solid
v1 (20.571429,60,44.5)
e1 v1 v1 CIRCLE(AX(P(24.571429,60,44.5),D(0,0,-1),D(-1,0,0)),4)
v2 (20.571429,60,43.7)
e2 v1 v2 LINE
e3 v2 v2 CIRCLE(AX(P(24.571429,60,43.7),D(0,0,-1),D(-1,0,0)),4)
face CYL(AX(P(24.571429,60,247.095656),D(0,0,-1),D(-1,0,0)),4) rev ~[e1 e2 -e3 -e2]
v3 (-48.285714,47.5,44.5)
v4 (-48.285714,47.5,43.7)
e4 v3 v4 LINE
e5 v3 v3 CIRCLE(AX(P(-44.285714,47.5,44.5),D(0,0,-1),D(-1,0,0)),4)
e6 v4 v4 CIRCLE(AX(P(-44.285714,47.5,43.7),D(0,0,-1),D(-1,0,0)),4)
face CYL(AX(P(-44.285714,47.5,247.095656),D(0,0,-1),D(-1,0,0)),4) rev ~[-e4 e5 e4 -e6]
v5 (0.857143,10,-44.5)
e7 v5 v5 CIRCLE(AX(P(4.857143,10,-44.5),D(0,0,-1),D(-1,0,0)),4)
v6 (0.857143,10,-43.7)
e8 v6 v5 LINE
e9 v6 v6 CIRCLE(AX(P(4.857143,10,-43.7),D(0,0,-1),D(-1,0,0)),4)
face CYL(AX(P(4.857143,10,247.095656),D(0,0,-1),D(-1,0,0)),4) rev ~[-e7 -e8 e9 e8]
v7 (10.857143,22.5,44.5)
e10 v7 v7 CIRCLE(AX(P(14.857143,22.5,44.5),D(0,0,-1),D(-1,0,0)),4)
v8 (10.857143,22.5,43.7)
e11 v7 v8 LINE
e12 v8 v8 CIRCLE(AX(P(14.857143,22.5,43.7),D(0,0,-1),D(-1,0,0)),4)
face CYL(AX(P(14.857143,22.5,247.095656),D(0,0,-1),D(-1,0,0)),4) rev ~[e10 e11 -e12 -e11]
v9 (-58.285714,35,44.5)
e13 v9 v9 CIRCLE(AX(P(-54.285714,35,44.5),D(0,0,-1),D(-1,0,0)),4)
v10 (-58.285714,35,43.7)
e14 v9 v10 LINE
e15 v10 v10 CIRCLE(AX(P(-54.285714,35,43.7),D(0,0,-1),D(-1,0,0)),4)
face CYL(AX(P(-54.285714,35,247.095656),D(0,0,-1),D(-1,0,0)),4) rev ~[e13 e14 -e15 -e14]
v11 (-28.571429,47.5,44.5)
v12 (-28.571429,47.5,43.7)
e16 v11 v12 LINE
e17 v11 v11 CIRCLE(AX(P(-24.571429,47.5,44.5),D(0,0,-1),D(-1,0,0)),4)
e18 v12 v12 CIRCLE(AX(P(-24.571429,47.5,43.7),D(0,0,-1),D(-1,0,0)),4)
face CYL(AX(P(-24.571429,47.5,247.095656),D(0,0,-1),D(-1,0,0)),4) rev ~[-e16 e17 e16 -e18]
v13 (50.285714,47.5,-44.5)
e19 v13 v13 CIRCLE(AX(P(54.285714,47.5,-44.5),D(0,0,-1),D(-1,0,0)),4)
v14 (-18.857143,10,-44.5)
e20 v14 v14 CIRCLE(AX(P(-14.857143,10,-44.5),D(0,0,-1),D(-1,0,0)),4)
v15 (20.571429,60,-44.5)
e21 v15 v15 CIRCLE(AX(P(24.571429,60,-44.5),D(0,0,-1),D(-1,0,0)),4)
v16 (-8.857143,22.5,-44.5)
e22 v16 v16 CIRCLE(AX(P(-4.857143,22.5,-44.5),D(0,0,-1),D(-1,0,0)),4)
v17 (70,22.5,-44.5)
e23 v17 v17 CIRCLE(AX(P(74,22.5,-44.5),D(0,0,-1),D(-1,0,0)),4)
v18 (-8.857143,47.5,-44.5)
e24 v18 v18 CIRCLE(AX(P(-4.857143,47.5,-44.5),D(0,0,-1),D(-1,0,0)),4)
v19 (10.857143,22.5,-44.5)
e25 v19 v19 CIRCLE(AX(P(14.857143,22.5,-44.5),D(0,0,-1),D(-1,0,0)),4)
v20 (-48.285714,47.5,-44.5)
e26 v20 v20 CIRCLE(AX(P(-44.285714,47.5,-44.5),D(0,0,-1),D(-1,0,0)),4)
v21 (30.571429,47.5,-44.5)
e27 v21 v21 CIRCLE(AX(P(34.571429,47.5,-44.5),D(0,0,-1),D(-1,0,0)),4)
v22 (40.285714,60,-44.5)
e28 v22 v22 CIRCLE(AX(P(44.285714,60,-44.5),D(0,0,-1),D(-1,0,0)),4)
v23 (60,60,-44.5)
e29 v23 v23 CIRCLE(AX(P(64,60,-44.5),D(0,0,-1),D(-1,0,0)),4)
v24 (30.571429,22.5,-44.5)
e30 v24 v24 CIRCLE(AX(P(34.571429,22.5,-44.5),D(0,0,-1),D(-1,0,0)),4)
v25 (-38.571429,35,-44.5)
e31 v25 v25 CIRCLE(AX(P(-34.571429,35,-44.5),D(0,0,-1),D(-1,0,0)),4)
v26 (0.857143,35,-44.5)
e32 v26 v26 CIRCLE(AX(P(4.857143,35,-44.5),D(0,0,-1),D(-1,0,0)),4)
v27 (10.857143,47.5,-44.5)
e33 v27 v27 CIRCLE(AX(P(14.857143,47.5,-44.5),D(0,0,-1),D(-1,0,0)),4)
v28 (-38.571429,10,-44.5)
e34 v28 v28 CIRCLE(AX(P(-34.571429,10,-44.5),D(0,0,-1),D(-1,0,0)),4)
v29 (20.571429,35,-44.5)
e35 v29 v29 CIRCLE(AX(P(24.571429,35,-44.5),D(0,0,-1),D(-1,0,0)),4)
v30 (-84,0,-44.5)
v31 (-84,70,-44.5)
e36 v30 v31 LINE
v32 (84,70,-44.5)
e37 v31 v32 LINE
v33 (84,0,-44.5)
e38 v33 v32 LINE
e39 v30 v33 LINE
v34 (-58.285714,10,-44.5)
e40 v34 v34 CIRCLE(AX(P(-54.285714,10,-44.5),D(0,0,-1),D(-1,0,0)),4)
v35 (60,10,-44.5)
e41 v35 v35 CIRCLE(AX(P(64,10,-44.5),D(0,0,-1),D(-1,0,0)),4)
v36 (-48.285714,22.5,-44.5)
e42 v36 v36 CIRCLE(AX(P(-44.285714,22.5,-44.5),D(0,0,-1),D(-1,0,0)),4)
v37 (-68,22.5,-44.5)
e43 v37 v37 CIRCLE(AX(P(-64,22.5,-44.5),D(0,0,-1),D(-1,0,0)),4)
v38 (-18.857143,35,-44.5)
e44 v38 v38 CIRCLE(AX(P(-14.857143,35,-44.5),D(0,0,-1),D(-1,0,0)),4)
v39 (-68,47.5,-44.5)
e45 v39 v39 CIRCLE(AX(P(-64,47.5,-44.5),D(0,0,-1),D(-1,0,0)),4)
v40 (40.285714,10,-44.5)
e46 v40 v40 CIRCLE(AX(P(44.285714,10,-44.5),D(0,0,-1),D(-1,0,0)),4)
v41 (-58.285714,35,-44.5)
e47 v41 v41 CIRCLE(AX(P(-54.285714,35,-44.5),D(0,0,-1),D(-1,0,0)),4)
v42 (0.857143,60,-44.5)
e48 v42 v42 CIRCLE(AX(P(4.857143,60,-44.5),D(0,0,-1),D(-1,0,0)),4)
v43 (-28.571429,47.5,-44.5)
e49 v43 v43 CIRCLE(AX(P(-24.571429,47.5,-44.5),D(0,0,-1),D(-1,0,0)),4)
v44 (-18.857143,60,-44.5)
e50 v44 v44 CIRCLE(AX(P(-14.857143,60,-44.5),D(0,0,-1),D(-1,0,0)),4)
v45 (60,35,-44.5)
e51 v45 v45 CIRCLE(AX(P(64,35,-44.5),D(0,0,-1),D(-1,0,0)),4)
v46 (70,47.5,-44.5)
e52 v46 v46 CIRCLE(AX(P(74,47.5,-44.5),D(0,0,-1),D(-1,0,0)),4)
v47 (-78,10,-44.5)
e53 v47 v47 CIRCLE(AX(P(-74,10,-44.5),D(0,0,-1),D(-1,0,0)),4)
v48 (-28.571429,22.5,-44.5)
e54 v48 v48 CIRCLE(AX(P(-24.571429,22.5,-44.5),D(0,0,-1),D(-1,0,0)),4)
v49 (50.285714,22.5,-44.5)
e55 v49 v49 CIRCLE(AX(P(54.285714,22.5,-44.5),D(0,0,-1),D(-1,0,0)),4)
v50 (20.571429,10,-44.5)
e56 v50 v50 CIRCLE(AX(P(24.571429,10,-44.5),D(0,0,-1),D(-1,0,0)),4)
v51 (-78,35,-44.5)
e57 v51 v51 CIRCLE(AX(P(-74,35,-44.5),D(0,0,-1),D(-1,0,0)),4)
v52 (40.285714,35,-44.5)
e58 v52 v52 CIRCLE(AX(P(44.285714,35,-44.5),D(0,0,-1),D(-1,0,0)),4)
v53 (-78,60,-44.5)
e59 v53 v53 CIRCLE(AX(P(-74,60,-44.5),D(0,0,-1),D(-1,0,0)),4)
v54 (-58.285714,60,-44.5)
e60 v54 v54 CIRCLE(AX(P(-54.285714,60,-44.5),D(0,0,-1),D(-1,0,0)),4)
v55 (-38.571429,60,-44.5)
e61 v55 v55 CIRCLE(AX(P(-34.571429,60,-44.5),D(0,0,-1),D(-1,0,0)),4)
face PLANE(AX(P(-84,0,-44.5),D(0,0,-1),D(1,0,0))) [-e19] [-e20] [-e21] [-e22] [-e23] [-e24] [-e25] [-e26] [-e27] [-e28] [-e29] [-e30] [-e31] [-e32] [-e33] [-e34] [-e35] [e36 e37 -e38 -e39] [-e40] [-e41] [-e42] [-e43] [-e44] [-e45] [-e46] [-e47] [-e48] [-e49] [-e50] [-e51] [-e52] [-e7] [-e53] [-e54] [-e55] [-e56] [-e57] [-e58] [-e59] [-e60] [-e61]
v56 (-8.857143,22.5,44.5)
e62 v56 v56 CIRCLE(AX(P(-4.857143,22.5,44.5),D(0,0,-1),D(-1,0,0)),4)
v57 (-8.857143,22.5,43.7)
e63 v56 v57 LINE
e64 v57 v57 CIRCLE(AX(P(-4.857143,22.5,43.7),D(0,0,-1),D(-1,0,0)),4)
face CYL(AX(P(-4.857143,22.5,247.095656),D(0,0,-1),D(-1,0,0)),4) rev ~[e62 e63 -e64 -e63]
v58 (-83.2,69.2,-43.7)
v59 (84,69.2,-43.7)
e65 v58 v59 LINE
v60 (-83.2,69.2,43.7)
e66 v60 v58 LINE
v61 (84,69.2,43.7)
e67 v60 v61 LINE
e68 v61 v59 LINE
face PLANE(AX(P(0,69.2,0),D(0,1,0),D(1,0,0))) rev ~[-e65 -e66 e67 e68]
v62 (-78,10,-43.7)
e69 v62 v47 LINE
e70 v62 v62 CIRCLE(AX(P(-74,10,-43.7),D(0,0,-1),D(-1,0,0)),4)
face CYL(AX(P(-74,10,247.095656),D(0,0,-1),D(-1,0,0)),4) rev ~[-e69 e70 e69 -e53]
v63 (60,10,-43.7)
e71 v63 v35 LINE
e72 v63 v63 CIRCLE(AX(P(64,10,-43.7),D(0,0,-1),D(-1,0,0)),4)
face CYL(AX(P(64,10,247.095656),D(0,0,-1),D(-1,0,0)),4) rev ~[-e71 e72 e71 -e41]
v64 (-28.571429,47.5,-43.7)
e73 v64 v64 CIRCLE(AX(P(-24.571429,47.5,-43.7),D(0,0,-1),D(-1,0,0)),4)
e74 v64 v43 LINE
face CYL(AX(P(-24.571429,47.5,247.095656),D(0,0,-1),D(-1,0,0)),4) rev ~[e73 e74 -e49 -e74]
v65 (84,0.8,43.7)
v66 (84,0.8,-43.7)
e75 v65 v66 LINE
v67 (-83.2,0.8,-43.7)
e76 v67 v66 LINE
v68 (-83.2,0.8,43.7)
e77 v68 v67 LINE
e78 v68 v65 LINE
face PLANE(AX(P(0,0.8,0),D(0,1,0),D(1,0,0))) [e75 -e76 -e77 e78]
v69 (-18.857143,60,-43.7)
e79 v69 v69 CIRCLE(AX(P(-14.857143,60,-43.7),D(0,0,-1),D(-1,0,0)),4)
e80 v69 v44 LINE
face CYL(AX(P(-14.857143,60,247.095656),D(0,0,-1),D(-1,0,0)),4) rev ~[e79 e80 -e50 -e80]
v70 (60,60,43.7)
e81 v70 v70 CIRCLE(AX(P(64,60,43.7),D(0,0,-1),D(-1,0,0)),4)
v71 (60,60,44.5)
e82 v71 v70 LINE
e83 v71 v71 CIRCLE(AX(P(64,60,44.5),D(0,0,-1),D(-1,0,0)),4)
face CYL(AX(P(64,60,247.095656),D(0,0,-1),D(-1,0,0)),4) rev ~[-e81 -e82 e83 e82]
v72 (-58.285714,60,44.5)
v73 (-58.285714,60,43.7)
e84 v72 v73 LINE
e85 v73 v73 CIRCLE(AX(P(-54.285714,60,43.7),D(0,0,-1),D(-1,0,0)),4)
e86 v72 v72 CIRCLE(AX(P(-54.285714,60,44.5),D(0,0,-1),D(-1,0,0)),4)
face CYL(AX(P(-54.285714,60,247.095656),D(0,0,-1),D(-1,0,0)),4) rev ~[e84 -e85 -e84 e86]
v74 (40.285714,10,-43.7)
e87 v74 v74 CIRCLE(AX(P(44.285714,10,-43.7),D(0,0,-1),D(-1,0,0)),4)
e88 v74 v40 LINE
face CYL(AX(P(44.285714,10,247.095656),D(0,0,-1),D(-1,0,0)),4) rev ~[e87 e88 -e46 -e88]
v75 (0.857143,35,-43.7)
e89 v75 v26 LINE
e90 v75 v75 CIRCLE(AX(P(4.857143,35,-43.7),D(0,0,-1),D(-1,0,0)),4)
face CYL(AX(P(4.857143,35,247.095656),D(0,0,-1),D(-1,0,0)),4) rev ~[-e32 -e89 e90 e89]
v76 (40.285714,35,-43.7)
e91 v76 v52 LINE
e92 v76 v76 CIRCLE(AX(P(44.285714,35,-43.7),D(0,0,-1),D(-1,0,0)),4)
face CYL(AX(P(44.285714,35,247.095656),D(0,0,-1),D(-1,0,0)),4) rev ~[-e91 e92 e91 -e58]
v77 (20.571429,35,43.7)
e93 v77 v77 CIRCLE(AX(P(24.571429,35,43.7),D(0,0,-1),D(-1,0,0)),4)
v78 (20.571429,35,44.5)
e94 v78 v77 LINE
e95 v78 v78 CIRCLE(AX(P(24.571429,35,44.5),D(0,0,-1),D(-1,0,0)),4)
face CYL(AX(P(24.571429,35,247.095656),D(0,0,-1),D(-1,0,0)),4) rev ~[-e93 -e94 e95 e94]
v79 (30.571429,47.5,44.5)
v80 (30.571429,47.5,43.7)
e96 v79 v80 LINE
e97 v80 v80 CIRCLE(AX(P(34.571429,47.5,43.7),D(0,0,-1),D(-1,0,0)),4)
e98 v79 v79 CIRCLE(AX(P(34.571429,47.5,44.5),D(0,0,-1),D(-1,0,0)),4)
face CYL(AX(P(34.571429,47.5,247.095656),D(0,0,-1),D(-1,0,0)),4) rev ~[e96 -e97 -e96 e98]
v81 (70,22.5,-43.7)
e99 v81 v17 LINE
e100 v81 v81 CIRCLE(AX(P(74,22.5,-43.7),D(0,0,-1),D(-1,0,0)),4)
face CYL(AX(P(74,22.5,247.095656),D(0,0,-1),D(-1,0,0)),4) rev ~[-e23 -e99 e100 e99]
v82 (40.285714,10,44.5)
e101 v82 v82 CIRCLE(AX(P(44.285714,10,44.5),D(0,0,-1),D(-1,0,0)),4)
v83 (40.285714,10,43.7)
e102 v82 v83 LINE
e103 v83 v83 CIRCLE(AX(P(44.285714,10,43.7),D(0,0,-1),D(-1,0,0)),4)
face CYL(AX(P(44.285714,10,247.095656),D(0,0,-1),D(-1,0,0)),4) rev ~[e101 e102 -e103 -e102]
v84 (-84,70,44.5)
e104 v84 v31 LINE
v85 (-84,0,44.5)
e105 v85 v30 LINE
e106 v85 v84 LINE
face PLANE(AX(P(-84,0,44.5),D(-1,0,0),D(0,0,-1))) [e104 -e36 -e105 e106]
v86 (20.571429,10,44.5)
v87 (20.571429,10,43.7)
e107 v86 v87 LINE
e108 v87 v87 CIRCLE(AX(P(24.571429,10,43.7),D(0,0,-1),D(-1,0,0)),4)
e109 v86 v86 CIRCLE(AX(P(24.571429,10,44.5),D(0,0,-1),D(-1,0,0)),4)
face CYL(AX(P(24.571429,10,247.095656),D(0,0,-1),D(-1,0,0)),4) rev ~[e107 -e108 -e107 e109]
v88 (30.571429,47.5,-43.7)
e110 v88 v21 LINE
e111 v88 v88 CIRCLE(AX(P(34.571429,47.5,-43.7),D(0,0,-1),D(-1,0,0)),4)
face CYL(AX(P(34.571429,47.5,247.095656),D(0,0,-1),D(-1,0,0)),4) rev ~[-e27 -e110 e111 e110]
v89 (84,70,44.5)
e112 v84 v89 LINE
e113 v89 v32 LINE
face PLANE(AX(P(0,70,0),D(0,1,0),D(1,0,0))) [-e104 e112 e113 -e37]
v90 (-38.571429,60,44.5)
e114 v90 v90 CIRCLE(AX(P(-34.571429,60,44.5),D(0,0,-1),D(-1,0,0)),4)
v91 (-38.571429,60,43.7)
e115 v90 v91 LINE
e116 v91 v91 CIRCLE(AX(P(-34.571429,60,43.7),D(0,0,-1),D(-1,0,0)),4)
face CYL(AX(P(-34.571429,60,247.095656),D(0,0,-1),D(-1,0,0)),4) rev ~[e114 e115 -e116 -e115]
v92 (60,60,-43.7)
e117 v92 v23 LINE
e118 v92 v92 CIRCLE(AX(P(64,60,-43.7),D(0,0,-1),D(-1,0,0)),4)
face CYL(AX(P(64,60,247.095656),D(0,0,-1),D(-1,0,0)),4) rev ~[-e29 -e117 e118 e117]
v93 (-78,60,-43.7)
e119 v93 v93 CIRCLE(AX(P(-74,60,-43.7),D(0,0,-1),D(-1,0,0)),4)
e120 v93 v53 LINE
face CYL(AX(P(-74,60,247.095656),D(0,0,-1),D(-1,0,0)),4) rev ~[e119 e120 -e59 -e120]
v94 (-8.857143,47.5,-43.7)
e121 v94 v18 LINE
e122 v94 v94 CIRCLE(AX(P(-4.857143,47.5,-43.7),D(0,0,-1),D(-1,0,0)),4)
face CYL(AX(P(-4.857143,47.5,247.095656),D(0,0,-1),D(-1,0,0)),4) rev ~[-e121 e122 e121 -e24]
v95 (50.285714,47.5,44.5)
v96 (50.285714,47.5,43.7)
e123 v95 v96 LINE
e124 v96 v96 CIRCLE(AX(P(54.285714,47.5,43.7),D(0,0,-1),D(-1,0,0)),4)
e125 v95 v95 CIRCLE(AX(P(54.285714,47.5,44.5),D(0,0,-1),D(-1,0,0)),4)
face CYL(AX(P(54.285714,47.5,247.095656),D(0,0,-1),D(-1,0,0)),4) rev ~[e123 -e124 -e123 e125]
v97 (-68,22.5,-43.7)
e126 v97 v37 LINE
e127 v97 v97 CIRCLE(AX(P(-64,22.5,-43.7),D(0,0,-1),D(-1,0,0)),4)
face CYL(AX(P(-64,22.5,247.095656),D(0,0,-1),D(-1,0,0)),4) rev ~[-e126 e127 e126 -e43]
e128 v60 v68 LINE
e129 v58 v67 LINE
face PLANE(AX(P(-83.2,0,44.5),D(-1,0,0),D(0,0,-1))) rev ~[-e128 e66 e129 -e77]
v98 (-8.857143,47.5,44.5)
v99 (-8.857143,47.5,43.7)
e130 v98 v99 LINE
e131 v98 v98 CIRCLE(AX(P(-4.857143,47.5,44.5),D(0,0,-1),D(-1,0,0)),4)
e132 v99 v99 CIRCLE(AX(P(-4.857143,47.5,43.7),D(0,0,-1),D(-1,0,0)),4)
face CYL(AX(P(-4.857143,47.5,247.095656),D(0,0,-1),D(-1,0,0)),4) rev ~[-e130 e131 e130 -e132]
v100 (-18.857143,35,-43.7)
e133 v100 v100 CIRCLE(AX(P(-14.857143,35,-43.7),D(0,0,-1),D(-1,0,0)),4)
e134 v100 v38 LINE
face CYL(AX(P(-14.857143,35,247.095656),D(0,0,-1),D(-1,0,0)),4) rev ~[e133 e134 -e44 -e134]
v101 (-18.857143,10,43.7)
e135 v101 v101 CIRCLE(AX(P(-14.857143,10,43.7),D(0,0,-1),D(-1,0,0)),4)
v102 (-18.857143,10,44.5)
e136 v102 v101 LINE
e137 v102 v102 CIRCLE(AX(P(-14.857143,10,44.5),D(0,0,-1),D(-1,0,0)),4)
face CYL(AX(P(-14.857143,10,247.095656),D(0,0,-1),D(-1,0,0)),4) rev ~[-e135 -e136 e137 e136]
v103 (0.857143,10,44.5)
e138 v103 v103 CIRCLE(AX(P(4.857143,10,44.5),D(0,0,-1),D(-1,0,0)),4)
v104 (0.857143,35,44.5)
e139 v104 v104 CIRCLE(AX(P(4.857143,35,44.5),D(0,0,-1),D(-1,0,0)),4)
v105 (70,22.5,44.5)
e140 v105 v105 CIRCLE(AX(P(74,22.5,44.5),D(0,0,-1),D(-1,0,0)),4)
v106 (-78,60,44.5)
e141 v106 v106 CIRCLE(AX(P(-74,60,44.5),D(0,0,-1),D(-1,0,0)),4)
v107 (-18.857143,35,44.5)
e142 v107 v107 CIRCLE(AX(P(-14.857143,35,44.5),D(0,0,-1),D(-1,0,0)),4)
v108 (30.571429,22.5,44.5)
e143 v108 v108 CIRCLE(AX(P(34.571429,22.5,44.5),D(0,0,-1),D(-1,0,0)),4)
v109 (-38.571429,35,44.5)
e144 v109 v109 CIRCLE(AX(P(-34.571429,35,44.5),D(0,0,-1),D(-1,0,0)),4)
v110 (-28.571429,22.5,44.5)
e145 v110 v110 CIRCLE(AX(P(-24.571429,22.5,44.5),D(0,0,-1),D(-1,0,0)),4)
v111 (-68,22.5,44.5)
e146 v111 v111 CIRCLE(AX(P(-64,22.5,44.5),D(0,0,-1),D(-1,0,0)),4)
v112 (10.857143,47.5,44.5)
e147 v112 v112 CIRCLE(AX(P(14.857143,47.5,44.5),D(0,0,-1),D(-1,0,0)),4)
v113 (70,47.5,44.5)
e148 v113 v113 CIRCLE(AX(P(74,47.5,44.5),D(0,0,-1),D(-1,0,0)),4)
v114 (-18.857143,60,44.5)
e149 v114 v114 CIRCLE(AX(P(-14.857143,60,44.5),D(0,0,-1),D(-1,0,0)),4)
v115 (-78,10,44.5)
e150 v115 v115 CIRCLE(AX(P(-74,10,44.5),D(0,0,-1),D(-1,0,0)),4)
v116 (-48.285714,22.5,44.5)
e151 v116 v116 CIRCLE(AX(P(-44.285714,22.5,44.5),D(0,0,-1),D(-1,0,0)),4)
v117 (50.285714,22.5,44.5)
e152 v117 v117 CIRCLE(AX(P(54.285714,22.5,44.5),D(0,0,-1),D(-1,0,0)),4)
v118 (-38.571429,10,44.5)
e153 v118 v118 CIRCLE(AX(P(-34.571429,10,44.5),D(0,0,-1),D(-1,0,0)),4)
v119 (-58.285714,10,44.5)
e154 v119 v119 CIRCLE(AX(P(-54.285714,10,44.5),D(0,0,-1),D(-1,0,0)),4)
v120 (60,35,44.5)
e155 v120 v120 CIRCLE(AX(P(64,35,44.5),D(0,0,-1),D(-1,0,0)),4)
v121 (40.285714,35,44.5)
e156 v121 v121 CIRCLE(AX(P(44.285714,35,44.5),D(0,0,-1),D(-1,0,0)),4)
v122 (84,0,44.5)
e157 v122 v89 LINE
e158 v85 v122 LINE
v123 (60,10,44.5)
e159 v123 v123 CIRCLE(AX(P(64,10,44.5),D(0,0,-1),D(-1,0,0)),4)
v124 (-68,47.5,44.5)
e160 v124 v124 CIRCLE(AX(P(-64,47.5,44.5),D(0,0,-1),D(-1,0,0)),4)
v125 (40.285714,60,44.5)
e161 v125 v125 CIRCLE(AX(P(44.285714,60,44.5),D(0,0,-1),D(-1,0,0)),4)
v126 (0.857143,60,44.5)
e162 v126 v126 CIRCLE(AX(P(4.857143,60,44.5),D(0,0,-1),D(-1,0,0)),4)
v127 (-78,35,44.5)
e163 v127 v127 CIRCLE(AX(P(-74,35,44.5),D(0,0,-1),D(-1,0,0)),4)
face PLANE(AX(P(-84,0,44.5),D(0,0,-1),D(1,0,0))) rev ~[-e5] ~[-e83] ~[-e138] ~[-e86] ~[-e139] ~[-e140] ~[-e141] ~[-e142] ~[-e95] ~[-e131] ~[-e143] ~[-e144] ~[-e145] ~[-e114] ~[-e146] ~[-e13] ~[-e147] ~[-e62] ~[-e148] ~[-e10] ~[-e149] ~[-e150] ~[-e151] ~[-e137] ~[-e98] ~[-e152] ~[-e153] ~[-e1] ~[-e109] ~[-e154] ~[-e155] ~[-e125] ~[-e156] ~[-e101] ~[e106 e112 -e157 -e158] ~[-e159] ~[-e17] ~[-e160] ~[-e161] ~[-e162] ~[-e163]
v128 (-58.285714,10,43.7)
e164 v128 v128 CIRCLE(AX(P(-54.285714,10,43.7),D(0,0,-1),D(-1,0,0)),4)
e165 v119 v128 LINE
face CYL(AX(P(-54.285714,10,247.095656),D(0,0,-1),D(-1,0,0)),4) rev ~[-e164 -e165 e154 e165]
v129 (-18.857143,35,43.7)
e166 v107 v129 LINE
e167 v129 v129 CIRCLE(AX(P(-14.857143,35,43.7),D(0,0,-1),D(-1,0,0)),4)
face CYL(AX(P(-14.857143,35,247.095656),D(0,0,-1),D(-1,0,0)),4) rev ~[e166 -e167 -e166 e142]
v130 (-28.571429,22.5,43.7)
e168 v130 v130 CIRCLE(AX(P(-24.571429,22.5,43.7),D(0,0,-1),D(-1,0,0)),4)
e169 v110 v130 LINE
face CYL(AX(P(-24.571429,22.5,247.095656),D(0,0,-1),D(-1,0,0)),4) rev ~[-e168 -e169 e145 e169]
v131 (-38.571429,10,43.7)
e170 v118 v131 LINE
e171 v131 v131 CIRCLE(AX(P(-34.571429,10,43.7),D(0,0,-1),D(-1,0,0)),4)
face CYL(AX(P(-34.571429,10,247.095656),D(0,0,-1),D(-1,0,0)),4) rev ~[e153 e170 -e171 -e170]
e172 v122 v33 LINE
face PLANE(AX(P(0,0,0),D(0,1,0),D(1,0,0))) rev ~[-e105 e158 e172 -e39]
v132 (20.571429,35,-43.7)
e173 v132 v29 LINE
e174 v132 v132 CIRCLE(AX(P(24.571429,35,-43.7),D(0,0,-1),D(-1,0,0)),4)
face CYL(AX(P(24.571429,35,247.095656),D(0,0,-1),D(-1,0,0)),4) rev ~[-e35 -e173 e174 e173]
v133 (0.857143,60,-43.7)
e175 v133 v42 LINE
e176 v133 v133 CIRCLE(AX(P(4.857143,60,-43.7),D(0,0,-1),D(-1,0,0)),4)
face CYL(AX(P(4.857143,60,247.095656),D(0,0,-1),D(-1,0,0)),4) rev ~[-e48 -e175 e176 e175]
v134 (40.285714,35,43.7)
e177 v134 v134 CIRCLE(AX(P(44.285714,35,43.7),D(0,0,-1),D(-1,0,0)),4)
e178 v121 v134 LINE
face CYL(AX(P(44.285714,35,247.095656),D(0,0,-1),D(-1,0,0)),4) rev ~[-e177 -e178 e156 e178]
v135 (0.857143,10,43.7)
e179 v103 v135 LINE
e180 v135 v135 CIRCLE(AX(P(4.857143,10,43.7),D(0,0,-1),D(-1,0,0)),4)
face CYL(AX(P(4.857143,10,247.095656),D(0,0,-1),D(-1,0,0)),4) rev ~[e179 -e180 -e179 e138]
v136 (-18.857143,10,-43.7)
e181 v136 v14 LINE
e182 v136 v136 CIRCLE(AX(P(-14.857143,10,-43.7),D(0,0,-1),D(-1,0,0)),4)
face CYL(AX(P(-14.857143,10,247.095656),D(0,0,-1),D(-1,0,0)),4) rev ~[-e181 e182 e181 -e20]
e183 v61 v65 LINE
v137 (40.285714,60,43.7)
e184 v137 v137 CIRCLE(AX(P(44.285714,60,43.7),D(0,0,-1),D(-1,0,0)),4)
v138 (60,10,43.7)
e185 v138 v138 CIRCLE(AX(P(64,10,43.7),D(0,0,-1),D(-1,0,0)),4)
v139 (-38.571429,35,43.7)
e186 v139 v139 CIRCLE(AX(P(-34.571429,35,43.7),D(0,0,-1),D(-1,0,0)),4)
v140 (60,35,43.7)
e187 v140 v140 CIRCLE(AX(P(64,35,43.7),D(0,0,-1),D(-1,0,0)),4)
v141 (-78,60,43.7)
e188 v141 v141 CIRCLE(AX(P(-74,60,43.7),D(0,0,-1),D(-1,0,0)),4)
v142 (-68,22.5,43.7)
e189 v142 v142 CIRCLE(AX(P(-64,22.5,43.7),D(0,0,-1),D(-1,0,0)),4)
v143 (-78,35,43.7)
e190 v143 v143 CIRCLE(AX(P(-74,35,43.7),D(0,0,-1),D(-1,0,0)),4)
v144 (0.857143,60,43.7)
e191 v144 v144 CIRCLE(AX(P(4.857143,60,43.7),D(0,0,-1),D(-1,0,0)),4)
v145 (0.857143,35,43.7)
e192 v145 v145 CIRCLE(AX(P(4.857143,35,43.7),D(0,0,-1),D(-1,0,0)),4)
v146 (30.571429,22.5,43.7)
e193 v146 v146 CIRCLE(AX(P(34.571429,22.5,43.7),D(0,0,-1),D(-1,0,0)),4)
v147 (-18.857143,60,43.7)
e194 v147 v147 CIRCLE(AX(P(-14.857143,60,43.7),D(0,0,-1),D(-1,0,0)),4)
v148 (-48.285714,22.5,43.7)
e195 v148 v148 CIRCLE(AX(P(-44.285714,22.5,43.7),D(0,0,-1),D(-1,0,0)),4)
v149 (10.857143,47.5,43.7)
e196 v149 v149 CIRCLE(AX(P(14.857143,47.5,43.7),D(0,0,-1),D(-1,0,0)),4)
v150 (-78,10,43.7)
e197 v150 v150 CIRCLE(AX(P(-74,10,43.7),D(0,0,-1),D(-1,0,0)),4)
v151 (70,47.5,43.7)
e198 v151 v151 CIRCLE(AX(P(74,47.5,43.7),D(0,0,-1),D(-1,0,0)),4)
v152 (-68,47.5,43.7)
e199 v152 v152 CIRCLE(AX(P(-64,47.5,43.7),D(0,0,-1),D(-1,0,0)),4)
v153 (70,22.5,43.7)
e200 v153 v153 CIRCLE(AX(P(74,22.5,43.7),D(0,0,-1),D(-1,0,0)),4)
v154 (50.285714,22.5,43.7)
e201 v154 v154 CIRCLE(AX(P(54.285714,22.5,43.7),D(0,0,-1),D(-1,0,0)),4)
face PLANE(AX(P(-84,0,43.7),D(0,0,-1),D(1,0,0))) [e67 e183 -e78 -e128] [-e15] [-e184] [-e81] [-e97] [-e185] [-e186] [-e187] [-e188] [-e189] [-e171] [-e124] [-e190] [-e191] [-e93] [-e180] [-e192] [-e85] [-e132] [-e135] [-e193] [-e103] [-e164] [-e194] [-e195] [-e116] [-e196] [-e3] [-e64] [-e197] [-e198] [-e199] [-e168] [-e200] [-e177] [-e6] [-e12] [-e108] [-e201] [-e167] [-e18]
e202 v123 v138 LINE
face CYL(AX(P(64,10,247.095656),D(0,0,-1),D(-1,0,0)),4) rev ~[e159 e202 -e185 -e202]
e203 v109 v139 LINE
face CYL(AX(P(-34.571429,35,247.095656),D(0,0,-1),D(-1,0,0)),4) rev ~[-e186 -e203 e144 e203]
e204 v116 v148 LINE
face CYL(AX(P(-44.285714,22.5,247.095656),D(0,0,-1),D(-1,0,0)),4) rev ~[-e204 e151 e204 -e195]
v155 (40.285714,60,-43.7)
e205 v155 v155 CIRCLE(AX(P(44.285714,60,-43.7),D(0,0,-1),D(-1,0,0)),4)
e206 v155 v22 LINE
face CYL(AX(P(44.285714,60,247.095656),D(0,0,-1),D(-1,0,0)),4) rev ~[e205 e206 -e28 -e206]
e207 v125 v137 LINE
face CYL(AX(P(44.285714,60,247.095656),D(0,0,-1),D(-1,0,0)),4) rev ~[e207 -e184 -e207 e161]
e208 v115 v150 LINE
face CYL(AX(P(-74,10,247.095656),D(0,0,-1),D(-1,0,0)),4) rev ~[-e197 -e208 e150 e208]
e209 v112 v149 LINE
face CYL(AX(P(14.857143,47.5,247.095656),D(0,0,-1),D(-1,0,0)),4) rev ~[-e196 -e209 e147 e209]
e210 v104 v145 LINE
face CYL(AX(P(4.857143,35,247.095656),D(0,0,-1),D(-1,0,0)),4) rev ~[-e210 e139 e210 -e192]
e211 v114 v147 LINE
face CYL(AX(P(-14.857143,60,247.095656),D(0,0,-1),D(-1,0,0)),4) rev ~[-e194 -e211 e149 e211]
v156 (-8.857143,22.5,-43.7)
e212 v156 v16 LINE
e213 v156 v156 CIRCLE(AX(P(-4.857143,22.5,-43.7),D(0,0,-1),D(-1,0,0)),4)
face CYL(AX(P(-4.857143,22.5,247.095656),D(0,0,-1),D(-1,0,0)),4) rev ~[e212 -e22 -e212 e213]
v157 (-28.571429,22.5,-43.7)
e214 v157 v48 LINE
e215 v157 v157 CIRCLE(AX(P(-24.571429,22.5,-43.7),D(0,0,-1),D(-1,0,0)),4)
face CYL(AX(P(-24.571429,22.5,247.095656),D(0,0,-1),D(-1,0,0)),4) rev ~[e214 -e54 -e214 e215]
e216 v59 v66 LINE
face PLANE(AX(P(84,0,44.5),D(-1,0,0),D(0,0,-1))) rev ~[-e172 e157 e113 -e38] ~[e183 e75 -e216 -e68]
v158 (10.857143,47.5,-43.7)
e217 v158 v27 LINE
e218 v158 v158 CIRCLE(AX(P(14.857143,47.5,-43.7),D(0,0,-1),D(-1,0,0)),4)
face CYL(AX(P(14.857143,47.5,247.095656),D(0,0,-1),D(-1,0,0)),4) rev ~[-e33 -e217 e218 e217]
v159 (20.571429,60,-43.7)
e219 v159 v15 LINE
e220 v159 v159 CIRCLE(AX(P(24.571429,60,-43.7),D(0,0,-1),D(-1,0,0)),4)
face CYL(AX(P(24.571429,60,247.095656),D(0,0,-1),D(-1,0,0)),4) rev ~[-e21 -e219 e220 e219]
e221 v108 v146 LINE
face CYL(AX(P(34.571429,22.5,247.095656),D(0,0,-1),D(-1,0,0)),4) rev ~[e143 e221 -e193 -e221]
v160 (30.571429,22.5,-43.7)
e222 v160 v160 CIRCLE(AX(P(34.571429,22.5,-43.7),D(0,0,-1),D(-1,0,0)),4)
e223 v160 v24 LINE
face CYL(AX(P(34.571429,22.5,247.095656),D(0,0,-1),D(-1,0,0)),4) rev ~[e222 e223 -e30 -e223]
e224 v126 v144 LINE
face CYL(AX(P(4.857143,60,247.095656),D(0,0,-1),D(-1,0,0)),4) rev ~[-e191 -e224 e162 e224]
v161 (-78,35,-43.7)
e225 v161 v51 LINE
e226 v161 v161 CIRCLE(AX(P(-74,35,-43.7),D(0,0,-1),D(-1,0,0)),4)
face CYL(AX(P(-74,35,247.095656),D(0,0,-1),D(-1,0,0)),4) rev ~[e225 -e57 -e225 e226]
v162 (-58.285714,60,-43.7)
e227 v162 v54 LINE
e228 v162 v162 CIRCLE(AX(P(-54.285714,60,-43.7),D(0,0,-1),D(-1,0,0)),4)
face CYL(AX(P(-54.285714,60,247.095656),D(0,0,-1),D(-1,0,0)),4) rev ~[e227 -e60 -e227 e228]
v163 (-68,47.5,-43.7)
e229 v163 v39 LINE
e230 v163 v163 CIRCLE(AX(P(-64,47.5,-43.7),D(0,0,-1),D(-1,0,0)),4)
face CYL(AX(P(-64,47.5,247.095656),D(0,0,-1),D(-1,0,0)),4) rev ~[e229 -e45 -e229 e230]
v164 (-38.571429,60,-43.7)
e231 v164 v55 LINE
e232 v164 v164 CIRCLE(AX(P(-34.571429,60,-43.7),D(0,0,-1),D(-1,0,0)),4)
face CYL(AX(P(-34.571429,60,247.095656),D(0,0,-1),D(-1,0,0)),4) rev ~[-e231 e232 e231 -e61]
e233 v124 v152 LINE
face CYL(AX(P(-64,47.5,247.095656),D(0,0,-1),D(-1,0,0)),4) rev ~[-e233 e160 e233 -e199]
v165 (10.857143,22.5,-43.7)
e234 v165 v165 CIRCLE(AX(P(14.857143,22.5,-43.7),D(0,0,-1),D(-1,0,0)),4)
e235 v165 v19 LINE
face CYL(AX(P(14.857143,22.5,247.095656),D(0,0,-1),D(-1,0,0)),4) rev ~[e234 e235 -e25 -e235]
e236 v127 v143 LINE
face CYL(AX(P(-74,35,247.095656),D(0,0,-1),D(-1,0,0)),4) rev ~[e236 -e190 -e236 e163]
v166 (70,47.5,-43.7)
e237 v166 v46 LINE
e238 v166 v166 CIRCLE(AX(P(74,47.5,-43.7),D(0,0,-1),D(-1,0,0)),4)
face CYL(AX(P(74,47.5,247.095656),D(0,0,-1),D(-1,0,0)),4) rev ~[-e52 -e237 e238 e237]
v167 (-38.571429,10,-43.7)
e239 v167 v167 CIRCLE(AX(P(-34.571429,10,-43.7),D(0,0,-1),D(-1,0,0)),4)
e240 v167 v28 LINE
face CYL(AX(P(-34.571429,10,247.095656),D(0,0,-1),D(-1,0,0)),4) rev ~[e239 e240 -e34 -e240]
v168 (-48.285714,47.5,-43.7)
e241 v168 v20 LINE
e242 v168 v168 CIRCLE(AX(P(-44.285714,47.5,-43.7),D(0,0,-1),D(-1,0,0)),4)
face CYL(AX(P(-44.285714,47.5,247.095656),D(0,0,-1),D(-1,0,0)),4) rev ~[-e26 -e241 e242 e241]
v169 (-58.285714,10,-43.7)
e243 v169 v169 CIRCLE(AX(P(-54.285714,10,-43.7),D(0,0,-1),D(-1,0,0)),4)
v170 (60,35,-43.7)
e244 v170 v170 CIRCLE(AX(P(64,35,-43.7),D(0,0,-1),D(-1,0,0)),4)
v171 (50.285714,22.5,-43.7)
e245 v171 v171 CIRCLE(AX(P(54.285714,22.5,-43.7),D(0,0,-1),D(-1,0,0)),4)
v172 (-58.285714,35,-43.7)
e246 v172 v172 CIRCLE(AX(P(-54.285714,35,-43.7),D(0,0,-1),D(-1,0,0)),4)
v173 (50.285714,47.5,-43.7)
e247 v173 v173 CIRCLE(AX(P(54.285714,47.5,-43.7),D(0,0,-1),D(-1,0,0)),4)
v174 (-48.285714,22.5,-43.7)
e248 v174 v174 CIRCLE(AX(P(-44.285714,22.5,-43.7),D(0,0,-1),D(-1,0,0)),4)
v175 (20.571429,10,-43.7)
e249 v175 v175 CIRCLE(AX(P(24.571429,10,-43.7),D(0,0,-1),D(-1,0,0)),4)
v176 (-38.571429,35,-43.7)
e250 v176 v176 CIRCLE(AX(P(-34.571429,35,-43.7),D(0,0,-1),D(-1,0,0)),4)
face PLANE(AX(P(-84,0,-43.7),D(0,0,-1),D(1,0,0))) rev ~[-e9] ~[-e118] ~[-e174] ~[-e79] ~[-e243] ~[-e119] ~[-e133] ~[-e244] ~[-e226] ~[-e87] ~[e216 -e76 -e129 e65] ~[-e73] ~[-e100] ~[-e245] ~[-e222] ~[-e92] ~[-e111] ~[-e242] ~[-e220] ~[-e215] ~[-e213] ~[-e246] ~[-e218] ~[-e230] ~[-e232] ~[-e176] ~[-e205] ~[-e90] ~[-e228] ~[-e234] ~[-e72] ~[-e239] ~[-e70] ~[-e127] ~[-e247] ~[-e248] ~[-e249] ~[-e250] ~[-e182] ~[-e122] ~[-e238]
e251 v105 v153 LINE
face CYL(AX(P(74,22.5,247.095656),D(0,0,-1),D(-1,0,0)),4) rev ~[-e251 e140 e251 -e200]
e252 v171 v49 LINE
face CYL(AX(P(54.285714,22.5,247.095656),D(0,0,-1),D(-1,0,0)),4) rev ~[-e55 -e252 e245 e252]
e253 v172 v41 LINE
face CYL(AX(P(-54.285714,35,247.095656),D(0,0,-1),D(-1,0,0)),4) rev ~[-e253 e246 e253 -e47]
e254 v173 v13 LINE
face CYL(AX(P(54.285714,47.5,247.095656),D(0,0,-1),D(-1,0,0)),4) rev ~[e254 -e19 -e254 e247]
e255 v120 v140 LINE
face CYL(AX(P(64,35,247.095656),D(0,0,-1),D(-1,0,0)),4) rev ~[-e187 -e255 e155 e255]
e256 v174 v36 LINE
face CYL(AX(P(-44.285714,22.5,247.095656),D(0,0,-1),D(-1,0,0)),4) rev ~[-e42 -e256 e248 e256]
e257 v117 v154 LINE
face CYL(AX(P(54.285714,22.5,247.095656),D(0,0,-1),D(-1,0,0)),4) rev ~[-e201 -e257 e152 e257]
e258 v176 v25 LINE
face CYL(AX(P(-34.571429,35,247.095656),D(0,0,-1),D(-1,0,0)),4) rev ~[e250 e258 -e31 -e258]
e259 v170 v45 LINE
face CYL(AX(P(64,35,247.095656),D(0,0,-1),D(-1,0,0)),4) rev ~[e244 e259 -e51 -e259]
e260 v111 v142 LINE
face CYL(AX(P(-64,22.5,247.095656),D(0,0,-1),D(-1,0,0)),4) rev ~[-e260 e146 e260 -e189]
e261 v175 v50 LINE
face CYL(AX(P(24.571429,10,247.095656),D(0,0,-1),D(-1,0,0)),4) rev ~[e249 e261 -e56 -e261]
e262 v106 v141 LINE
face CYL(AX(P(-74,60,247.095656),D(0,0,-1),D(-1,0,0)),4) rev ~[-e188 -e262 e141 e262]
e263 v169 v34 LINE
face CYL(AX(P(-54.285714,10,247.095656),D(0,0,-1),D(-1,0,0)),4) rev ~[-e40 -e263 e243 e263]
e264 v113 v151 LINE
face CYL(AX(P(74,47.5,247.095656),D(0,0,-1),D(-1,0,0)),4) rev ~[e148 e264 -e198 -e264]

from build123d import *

# Parameters (mm, degrees)
SKETCH1_W             = 168
SKETCH1_H             = 89
BOSS_EXTRUDE1_DEPTH   = 70
SHELL1_T              = -0.8
F_8_0MM_DOWEL_HOLE1_D = 8


with BuildPart() as part:
    # Sketch1 → Boss-Extrude1 (new body)
    with BuildSketch(Plane(origin=(0, 0, 0), x_dir=(1, 0, 0), z_dir=(0, 1, 0))):
        Rectangle(SKETCH1_W, SKETCH1_H)
    extrude(amount=BOSS_EXTRUDE1_DEPTH)

    # Shell1
    shell1_openings = [part.faces().sort_by_distance(p)[0] for p in [
        (84, 35, 0),
    ]]
    offset(amount=SHELL1_T, openings=shell1_openings, kind=Kind.INTERSECTION)

    # Ø8.0mm Dowel Hole1 (through all)
    with Locations(Plane.XY.offset(44.5)):
        with Locations((64, 10), (-74, 60), (-64, 47.5), (-74, 35), (-64, 22.5), (-74, 10), (-54.285714286, 60), (-44.285714286, 47.5), (-54.285714286, 35), (-44.285714286, 22.5), (-54.285714286, 10), (-34.571428571, 60), (-24.571428571, 47.5), (-34.571428571, 35), (-24.571428571, 22.5), (-34.571428571, 10), (-14.857142857, 60), (-4.857142857, 47.5), (-14.857142857, 35), (-4.857142857, 22.5), (-14.857142857, 10), (4.857142857, 60), (14.857142857, 47.5), (4.857142857, 35), (14.857142857, 22.5), (4.857142857, 10), (24.571428571, 60), (34.571428571, 47.5), (24.571428571, 35), (34.571428571, 22.5), (24.571428571, 10), (44.285714286, 60), (54.285714286, 47.5), (44.285714286, 35), (54.285714286, 22.5), (44.285714286, 10), (64, 60), (74, 47.5), (64, 35), (74, 22.5)):
            Hole(F_8_0MM_DOWEL_HOLE1_D / 2)


solid = part.part
